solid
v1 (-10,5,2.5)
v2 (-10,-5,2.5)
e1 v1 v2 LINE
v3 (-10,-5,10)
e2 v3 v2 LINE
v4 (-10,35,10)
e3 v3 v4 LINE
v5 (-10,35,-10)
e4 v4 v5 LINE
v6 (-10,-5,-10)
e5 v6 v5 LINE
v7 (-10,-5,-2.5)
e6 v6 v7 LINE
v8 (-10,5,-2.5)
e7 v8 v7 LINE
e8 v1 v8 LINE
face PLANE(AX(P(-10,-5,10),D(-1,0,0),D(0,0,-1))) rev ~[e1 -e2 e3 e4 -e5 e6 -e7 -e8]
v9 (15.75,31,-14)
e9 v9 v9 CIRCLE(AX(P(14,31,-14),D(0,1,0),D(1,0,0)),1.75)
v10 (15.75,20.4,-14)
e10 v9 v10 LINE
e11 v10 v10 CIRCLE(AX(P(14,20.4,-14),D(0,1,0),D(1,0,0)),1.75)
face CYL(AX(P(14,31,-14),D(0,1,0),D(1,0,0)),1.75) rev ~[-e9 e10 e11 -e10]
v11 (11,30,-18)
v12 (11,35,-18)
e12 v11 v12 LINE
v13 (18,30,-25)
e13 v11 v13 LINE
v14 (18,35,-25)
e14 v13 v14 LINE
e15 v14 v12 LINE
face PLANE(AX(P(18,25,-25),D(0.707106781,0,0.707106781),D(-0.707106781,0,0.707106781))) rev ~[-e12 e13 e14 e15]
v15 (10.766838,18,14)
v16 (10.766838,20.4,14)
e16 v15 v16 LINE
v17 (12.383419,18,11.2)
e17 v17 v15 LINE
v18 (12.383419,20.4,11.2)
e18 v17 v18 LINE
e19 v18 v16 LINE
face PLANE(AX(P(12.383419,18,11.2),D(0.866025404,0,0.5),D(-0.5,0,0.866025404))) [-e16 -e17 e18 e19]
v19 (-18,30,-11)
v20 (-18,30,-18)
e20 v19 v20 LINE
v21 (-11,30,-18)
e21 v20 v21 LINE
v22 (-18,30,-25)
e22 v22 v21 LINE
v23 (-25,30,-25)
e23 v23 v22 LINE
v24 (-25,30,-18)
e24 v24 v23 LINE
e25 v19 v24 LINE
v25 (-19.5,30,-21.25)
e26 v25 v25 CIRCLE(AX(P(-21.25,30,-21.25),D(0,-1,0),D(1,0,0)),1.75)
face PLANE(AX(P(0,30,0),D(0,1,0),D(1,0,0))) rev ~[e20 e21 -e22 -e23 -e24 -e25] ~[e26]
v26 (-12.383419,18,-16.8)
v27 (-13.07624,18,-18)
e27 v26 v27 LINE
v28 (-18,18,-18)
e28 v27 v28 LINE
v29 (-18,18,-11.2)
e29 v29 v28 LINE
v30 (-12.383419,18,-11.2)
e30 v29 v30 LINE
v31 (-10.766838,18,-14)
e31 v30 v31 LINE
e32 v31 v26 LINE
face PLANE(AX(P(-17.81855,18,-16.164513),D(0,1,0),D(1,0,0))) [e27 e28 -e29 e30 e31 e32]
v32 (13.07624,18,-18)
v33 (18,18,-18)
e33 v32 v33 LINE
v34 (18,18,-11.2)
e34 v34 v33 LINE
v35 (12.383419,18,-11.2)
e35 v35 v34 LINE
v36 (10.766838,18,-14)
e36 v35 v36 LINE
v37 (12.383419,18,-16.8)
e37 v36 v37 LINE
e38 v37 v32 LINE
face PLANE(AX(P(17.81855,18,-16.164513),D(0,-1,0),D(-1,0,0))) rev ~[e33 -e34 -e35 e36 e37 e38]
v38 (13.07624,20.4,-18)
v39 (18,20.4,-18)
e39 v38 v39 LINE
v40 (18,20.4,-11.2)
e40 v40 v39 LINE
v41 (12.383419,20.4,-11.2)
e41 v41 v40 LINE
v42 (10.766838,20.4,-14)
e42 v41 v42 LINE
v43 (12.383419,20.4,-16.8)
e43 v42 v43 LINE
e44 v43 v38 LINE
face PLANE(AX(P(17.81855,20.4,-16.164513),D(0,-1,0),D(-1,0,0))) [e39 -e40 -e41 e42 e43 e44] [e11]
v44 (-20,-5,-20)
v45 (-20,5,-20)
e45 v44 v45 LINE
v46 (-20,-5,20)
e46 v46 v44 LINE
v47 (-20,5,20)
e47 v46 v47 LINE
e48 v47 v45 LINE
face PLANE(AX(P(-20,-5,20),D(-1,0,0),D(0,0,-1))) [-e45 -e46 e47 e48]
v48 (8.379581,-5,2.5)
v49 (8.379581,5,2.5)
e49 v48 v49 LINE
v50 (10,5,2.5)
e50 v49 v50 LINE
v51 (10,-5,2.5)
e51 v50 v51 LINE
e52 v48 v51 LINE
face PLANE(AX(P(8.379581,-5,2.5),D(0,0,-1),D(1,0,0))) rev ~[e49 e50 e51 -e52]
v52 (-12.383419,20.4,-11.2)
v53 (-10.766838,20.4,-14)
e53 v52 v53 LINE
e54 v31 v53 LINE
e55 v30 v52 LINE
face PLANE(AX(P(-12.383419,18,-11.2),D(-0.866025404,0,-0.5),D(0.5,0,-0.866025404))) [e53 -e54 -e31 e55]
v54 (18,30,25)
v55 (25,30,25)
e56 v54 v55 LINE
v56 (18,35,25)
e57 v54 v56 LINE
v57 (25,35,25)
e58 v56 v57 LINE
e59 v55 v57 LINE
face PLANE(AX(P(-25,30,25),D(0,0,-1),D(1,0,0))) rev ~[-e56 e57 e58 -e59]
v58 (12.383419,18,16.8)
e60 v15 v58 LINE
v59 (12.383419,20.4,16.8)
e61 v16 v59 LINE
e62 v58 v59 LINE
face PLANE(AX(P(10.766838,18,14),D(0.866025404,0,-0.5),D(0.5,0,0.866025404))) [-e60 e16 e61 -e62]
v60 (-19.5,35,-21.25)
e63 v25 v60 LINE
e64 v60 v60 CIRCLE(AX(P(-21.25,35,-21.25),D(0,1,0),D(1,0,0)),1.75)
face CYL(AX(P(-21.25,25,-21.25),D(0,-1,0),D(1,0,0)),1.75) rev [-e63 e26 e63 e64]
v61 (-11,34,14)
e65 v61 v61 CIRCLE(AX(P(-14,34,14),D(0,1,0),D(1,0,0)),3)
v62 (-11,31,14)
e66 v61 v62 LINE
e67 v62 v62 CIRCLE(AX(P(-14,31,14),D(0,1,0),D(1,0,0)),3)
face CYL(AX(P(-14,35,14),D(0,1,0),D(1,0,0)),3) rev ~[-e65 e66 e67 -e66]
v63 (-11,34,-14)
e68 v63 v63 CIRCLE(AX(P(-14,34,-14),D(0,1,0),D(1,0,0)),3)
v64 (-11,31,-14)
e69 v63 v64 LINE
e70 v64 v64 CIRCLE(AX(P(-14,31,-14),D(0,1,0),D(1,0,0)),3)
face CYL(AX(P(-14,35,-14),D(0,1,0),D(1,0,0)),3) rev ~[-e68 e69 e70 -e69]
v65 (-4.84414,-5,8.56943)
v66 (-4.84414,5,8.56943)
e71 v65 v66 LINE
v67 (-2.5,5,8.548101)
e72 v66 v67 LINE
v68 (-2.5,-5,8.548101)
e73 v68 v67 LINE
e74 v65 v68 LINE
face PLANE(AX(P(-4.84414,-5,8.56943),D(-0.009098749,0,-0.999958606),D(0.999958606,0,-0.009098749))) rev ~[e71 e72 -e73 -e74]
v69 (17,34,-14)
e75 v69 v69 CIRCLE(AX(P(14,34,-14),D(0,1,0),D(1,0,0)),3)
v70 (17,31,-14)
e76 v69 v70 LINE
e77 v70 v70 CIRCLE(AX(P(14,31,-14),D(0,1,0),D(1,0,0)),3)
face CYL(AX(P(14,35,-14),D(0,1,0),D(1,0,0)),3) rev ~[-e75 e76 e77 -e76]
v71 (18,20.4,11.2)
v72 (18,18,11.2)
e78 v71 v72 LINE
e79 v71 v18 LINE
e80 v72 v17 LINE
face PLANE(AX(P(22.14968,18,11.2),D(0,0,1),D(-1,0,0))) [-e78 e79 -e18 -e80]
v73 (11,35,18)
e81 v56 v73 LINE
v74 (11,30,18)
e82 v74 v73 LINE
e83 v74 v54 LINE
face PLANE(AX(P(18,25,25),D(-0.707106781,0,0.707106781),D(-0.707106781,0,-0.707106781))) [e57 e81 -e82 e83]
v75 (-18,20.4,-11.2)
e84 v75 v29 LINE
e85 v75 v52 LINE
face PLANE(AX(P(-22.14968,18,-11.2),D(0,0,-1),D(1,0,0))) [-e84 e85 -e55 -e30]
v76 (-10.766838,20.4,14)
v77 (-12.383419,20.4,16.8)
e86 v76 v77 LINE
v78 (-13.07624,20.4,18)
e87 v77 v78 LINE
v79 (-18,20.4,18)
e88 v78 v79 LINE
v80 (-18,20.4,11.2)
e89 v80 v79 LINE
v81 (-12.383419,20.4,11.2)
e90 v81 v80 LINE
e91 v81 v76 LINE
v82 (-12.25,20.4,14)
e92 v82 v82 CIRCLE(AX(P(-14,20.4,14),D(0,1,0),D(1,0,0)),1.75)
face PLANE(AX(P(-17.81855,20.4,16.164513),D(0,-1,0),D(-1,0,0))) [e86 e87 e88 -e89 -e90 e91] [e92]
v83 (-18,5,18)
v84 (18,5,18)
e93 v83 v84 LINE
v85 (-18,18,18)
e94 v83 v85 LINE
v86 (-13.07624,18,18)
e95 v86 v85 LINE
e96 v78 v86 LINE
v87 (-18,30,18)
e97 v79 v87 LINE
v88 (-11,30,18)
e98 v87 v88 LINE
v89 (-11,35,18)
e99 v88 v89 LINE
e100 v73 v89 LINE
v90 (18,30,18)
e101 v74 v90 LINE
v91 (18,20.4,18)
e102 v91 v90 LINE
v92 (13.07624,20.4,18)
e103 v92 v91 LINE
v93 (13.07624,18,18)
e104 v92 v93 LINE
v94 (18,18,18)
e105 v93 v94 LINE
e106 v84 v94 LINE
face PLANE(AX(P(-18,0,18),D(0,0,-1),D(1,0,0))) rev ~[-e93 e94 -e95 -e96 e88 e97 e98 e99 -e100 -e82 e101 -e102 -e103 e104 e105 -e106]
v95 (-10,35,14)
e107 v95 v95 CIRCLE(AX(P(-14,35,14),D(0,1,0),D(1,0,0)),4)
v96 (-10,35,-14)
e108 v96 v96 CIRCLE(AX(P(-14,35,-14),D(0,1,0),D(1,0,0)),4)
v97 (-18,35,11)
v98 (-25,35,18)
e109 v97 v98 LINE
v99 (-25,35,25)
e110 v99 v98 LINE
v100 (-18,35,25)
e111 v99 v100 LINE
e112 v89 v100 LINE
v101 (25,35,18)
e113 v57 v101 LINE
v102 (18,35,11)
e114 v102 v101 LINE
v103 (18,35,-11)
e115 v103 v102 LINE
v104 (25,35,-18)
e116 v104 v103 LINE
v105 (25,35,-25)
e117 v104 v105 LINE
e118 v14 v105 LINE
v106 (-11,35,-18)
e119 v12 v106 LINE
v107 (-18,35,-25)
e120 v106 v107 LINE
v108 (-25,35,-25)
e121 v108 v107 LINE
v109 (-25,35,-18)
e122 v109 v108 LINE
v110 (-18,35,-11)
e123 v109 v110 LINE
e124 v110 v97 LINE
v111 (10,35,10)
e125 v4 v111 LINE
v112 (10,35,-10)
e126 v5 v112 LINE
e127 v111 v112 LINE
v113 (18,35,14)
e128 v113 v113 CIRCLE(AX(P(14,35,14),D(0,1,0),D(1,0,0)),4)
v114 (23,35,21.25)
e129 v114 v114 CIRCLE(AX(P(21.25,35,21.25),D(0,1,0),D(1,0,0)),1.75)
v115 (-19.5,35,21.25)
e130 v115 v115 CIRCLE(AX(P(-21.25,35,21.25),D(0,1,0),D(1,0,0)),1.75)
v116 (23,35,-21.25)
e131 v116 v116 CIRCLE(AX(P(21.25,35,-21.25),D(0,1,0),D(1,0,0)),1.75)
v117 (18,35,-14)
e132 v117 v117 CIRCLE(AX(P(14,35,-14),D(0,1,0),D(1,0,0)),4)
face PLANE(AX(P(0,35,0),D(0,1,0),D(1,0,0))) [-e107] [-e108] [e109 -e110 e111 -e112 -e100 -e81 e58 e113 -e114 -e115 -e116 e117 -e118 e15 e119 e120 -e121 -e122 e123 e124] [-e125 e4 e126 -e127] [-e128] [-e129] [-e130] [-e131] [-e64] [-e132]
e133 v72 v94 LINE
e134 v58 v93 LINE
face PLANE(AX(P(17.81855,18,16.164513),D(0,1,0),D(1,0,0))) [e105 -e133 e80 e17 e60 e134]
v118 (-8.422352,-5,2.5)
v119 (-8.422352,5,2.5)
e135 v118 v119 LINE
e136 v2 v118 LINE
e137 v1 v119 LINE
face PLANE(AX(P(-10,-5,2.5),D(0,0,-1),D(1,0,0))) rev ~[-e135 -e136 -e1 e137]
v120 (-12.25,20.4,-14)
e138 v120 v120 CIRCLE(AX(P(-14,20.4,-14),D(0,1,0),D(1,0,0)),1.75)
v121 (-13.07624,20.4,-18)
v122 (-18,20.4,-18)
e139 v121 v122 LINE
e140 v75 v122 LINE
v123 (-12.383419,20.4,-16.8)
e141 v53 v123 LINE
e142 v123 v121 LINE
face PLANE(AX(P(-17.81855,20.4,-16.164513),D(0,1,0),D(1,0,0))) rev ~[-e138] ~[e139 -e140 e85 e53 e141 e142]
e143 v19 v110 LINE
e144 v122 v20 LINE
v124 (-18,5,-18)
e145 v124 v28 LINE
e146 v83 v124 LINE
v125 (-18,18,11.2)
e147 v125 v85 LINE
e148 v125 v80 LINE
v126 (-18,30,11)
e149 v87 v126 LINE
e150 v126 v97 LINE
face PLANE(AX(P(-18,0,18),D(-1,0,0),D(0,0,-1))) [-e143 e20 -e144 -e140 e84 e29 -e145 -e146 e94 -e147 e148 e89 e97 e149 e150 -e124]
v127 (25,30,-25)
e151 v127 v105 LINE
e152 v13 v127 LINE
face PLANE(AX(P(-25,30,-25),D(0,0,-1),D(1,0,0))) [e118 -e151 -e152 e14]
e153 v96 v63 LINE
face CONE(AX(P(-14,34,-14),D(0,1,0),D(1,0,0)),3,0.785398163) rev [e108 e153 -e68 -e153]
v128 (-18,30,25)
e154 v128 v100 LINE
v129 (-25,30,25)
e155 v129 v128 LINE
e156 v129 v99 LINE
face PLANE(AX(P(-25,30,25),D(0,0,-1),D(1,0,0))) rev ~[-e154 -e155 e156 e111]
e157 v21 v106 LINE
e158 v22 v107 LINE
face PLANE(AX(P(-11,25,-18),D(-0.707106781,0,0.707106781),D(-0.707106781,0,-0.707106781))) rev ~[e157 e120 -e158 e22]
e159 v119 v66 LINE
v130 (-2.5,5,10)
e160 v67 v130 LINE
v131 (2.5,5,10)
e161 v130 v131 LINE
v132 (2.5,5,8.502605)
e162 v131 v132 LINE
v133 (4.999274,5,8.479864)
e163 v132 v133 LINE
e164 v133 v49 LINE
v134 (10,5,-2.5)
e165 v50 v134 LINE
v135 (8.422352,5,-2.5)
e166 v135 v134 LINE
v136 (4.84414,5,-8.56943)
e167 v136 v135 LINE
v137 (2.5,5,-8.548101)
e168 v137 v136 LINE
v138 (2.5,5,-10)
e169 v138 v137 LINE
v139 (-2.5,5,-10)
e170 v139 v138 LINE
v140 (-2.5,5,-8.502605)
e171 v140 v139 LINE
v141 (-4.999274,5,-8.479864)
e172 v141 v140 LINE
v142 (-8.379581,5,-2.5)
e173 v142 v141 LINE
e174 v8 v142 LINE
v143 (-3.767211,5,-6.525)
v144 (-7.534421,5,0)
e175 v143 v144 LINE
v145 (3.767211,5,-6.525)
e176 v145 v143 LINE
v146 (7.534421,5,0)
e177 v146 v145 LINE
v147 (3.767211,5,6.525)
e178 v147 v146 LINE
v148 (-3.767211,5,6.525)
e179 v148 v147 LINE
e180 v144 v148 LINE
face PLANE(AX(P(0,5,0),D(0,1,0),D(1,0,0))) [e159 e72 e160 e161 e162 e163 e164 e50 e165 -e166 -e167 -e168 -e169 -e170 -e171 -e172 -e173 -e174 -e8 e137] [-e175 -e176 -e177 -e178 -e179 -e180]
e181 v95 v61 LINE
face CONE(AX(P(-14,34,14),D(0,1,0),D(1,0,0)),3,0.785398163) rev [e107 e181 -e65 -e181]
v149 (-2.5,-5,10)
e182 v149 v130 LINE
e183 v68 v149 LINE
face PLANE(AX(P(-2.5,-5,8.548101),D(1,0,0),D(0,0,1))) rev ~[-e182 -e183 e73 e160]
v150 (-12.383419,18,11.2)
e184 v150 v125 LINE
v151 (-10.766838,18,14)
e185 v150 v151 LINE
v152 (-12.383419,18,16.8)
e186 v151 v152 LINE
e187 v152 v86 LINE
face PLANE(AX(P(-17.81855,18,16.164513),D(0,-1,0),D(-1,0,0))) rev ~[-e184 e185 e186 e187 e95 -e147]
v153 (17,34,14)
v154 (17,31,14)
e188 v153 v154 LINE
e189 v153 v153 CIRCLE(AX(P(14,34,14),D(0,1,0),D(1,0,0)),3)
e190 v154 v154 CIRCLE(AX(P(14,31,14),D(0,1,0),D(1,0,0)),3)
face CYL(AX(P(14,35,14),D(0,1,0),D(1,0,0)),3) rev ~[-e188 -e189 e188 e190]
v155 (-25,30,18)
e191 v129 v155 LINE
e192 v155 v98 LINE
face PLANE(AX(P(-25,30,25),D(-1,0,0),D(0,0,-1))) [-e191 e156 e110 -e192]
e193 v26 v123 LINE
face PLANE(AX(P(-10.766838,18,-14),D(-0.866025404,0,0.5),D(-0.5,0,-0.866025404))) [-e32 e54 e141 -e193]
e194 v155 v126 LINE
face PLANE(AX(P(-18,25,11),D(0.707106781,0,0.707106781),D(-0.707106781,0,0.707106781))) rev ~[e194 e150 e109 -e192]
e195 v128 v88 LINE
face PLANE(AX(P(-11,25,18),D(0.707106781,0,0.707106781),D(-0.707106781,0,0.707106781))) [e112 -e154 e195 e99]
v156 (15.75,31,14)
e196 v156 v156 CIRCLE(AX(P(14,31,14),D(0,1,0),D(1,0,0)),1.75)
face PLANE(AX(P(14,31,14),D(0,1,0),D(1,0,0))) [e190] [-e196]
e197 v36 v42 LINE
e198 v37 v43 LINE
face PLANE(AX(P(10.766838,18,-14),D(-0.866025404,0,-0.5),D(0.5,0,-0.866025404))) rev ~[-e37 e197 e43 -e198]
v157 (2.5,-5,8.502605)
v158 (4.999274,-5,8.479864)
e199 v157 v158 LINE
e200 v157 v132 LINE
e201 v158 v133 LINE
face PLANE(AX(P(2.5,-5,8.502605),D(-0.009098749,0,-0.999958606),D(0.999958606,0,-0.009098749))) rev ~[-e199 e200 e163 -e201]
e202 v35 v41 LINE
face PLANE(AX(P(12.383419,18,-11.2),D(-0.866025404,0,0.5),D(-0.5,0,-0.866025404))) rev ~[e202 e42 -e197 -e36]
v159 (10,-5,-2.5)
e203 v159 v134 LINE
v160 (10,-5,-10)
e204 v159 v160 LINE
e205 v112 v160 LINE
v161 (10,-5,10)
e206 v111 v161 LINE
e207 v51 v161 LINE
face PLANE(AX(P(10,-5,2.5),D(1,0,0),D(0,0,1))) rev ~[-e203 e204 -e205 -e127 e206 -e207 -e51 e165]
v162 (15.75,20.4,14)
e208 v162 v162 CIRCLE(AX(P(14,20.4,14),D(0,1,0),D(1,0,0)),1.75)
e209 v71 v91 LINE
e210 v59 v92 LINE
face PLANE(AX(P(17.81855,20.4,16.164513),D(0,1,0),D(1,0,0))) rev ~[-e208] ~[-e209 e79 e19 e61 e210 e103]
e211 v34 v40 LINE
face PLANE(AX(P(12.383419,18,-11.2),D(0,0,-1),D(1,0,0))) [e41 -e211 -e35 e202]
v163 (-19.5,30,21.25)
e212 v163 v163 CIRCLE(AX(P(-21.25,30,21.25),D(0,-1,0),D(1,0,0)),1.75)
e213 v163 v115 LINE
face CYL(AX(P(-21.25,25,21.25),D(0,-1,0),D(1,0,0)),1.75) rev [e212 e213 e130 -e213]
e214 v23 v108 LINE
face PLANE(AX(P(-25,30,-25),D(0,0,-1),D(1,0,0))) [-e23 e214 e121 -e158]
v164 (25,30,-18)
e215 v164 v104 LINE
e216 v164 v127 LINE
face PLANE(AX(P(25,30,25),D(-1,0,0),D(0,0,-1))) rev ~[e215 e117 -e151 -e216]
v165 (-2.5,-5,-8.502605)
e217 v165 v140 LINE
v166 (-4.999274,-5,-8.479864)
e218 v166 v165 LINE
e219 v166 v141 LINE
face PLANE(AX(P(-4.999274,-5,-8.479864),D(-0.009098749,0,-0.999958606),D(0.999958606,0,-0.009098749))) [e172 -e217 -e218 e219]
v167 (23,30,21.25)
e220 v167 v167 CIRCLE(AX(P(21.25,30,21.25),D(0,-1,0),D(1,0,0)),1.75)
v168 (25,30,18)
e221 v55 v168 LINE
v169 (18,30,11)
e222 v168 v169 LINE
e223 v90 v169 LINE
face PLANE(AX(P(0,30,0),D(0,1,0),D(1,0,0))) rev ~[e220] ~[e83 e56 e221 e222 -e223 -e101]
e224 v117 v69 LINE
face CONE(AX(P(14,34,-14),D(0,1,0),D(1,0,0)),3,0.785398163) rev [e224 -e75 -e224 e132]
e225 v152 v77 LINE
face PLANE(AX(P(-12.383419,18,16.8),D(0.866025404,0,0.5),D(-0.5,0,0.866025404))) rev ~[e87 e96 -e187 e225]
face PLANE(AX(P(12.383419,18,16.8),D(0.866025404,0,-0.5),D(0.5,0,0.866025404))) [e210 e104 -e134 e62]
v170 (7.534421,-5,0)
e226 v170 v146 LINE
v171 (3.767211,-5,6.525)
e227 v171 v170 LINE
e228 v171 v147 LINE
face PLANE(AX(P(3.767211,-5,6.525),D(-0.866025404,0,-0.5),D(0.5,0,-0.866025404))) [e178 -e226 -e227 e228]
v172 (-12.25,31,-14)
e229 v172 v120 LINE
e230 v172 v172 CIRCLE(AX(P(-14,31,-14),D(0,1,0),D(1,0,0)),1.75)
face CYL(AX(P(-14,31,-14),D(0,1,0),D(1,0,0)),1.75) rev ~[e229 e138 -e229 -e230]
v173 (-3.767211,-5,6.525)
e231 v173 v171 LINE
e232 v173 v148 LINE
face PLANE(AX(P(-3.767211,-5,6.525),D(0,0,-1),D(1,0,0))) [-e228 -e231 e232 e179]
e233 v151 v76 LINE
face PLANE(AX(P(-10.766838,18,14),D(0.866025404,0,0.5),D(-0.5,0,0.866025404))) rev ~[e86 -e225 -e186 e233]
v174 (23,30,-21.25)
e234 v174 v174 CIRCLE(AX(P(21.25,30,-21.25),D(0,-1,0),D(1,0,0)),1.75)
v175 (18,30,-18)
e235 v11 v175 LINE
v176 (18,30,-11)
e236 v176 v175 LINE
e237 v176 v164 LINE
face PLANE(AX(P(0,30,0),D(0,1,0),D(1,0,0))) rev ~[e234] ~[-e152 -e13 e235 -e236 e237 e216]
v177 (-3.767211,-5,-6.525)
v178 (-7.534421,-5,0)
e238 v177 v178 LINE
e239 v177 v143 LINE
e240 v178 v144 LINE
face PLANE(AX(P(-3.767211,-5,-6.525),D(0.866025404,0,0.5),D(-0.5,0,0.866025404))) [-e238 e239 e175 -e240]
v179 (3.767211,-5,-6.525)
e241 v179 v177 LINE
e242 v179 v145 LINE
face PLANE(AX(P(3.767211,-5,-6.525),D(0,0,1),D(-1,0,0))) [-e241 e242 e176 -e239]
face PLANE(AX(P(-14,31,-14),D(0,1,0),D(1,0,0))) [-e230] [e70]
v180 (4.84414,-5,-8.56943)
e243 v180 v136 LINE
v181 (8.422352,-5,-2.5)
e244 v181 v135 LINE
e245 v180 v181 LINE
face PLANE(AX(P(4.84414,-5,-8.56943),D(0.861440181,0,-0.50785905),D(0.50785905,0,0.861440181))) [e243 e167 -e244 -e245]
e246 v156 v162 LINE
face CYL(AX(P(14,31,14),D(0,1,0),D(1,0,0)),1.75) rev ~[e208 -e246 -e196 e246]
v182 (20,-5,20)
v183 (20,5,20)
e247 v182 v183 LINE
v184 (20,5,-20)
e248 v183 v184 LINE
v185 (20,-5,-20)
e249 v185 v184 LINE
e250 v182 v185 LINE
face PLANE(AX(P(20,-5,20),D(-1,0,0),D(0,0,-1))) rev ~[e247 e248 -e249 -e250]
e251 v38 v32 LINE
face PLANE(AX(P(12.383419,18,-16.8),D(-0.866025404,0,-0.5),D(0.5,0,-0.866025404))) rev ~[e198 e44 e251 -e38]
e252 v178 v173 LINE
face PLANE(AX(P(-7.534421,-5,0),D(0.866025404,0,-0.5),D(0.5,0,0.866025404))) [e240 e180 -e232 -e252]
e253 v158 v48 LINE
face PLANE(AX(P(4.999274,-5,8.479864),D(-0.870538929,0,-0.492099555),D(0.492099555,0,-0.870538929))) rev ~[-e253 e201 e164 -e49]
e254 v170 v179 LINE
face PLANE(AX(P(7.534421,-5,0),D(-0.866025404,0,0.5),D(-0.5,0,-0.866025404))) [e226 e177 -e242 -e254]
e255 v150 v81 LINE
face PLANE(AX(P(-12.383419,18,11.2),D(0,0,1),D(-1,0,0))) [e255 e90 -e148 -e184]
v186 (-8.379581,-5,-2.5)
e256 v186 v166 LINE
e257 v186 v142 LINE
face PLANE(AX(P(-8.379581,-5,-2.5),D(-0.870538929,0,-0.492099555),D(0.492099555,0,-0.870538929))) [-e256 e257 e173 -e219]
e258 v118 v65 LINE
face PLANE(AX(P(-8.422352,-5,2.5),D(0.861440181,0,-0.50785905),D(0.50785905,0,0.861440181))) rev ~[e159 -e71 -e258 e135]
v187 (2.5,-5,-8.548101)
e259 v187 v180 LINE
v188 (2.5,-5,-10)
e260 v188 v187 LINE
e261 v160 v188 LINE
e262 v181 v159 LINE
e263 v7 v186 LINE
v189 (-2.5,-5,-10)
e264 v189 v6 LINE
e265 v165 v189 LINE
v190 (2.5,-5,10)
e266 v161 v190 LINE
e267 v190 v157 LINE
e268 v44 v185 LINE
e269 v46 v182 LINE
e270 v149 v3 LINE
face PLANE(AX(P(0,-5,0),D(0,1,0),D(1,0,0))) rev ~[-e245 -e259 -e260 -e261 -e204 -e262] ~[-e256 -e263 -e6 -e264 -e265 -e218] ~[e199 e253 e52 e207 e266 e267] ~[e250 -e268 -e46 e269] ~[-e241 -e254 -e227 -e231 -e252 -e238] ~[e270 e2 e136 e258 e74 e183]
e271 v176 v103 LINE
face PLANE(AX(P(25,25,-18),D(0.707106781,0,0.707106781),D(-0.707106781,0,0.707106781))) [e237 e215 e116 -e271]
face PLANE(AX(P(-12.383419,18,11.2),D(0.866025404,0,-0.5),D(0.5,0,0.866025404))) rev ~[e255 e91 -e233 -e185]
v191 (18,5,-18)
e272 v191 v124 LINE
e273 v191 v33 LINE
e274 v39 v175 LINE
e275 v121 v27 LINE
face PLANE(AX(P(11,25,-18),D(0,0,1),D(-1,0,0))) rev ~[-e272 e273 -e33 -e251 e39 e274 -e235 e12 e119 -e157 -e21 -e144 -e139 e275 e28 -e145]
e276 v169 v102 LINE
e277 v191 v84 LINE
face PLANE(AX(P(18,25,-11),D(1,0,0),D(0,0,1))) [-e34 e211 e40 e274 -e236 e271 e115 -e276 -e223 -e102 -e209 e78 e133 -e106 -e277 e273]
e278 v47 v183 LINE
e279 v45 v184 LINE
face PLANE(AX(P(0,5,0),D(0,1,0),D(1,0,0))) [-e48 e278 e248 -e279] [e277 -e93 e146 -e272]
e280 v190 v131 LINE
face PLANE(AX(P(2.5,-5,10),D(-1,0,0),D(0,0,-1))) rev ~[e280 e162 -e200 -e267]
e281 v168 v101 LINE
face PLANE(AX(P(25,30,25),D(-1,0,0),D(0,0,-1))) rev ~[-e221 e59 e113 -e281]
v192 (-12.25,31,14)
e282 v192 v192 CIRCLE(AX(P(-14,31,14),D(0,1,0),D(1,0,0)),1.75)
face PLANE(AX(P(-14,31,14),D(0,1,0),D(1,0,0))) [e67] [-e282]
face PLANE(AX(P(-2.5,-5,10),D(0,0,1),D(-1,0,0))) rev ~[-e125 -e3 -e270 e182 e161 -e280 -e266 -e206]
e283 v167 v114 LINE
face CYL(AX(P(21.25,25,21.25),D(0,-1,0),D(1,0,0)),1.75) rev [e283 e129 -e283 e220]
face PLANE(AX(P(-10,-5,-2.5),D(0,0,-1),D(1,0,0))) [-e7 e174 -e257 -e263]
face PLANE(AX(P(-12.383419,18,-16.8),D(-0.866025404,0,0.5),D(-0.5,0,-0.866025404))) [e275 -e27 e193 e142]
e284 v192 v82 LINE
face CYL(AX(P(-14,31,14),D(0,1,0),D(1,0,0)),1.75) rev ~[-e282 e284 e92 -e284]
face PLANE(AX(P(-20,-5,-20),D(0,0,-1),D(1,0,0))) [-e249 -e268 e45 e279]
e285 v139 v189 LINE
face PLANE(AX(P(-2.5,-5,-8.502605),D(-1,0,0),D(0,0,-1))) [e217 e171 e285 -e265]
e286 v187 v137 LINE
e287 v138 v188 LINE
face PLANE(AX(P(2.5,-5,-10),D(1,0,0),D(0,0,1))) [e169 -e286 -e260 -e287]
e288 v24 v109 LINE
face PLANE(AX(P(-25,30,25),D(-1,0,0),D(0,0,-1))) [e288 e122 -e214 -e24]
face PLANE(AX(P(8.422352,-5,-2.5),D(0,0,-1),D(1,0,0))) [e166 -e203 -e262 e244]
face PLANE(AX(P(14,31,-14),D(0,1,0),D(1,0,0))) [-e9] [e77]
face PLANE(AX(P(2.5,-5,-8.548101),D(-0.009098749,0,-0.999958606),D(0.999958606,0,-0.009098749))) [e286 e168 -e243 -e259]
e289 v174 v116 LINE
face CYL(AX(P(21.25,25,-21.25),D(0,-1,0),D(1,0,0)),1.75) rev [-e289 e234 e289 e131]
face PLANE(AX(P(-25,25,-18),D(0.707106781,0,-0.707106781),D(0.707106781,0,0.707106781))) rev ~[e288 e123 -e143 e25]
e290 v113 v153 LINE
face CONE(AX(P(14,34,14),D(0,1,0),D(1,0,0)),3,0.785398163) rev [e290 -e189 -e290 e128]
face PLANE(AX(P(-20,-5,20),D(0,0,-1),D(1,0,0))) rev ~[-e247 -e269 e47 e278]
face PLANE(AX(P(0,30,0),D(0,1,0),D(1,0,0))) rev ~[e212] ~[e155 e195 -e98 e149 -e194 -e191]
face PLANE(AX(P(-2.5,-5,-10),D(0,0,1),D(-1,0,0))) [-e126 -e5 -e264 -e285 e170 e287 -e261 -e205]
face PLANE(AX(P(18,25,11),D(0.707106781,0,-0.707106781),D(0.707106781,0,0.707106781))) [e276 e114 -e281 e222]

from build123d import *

# Parameters (mm, degrees)
SKETCH1_W           = 36
SKETCH1_H           = 36
SKETCH1_W_2         = 20
SKETCH1_H_2         = 20
BOSS_EXTRUDE4_DEPTH = 35
SKETCH9_W           = 50
SKETCH9_H           = 50
SKETCH9_W_2         = 22
SKETCH9_H_2         = 22
BOSS_EXTRUDE6_DEPTH = 5
SKETCH10_R          = 1.75
CUT_EXTRUDE2_DEPTH  = 10
CUT_EXTRUDE3_DEPTH  = 10
SKETCH4_W           = 40
SKETCH4_H           = 40
BOSS_EXTRUDE7_DEPTH = 10
SKETCH12_R          = 3
CUT_EXTRUDE4_DEPTH  = 4
CHAMFER1_SIZE       = 1
SKETCH13_R          = 1.75
CUT_EXTRUDE5_DEPTH  = 13
CUT_EXTRUDE7_DEPTH  = 2.4


with BuildPart() as part:
    # Sketch1 → Boss-Extrude4 (new body)
    with BuildSketch(Plane(origin=(0, 0, 0), x_dir=(1, 0, 0), z_dir=(0, 1, 0))):
        Rectangle(SKETCH1_W, SKETCH1_H)
        Rectangle(SKETCH1_W_2, SKETCH1_H_2, mode=Mode.SUBTRACT)
    extrude(amount=BOSS_EXTRUDE4_DEPTH)

    # Sketch9 → Boss-Extrude6 (add)
    with BuildSketch(Plane(origin=(0, 30, 0), x_dir=(1, 0, 0), z_dir=(0, 1, 0))):
        Rectangle(SKETCH9_W, SKETCH9_H)
        Rectangle(SKETCH9_W_2, SKETCH9_H_2, mode=Mode.SUBTRACT)
    extrude(amount=BOSS_EXTRUDE6_DEPTH)

    # Sketch10 → Cut-Extrude2 (cut)
    with BuildSketch(Plane(origin=(0, 25, 0), x_dir=(1, 0, 0), z_dir=(0, 1, 0))):
        with Locations((-21.25, 21.25)):
            Circle(SKETCH10_R)
        with Locations((21.25, 21.25)):
            Circle(SKETCH10_R)
        with Locations((21.25, -21.25)):
            Circle(SKETCH10_R)
        with Locations((-21.25, -21.25)):
            Circle(SKETCH10_R)
    extrude(amount=CUT_EXTRUDE2_DEPTH, mode=Mode.SUBTRACT)

    # Sketch11 → Cut-Extrude3 (cut)
    with BuildSketch(Plane(origin=(0, 25, 0), x_dir=(1, 0, 0), z_dir=(0, 1, 0))):
        Polygon((11, 18), (-11, 18), (-18, 25), (18, 25), align=None)
        Polygon((18, 11), (18, -11), (25, -18), (25, 18), align=None)
        Polygon((11, -18), (-11, -18), (-18, -25), (18, -25), align=None)
        Polygon((-18, 11), (-18, -11), (-25, -18), (-25, 18), align=None)
    extrude(amount=CUT_EXTRUDE3_DEPTH, mode=Mode.SUBTRACT)

    # Sketch4 → Boss-Extrude7 (add)
    with BuildSketch(Plane(origin=(0, -5, 0), x_dir=(1, 0, 0), z_dir=(0, 1, 0))):
        Rectangle(SKETCH4_W, SKETCH4_H)
        Polygon((-2.5, -8.548100716), (-2.5, -10), (-10, -10), (-10, -2.5), (-8.422351936, -2.5), (-4.844140472, -8.569430344), align=None, mode=Mode.SUBTRACT)
        Polygon((7.534421013, 0), (3.767210506, 6.525), (-3.767210506, 6.525), (-7.534421013, 0), (-3.767210506, -6.525), (3.767210506, -6.525), align=None, mode=Mode.SUBTRACT)
        Polygon((10, 10), (2.5, 10), (2.5, 8.548100716), (4.844140472, 8.569430344), (8.422351936, 2.5), (10, 2.5), align=None, mode=Mode.SUBTRACT)
        Polygon((10, -10), (2.5, -10), (2.5, -8.502605089), (4.999274138, -8.47986388), (8.379580585, -2.5), (10, -2.5), align=None, mode=Mode.SUBTRACT)
        Polygon((-10, 10), (-10, 2.5), (-8.379580585, 2.5), (-4.999274138, 8.47986388), (-2.5, 8.502605089), (-2.5, 10), align=None, mode=Mode.SUBTRACT)
    extrude(amount=BOSS_EXTRUDE7_DEPTH)

    # Sketch12 → Cut-Extrude4 (cut)
    with BuildSketch(Plane(origin=(0, 35, 0), x_dir=(1, 0, 0), z_dir=(0, 1, 0))):
        with Locations((-14, 14)):
            Circle(SKETCH12_R)
        with Locations((14, 14)):
            Circle(SKETCH12_R)
        with Locations((-14, -14)):
            Circle(SKETCH12_R)
        with Locations((14, -14)):
            Circle(SKETCH12_R)
    extrude(amount=-CUT_EXTRUDE4_DEPTH, mode=Mode.SUBTRACT)

    # Chamfer1
    chamfer1_edges = [part.edges().sort_by_distance(p)[0] for p in [
        (11, 35, -14),
        (-17, 35, 14),
        (11, 35, 14),
        (-17, 35, -14),
    ]]
    chamfer(chamfer1_edges, length=CHAMFER1_SIZE)

    # Sketch13 → Cut-Extrude5 (cut)
    with BuildSketch(Plane(origin=(0, 31, 0), x_dir=(1, 0, 0), z_dir=(0, 1, 0))):
        with Locations((-14, 14)):
            Circle(SKETCH13_R)
        with Locations((14, 14)):
            Circle(SKETCH13_R)
        with Locations((14, -14)):
            Circle(SKETCH13_R)
        with Locations((-14, -14)):
            Circle(SKETCH13_R)
    extrude(amount=-CUT_EXTRUDE5_DEPTH, mode=Mode.SUBTRACT)

    # Sketch15 → Cut-Extrude7 (cut)
    with BuildSketch(Plane(origin=(0, 18, 0), x_dir=(1, 0, 0), z_dir=(0, 1, 0))):
        Polygon((-10.766838493, 14), (-12.383419246, 16.8), (-15.581535205, 22.339299329), (-24.484943605, 19.967960566), (-22.149680093, 11.2), (-15.616580754, 11.2), (-12.383419246, 11.2), align=None)
        Polygon((15.616580754, 11.2), (12.383419246, 11.2), (10.766838493, 14), (12.383419246, 16.8), (15.581535205, 22.339299329), (24.484943605, 19.967960566), (22.149680093, 11.2), align=None)
        Polygon((15.616580754, -11.2), (12.383419246, -11.2), (10.766838493, -14), (12.383419246, -16.8), (15.581535205, -22.339299329), (24.484943605, -19.967960566), (22.149680093, -11.2), align=None)
        Polygon((-15.616580754, -11.2), (-12.383419246, -11.2), (-10.766838493, -14), (-12.383419246, -16.8), (-15.581535205, -22.339299329), (-24.484943605, -19.967960566), (-22.149680093, -11.2), align=None)
    extrude(amount=CUT_EXTRUDE7_DEPTH, mode=Mode.SUBTRACT)


solid = part.part
